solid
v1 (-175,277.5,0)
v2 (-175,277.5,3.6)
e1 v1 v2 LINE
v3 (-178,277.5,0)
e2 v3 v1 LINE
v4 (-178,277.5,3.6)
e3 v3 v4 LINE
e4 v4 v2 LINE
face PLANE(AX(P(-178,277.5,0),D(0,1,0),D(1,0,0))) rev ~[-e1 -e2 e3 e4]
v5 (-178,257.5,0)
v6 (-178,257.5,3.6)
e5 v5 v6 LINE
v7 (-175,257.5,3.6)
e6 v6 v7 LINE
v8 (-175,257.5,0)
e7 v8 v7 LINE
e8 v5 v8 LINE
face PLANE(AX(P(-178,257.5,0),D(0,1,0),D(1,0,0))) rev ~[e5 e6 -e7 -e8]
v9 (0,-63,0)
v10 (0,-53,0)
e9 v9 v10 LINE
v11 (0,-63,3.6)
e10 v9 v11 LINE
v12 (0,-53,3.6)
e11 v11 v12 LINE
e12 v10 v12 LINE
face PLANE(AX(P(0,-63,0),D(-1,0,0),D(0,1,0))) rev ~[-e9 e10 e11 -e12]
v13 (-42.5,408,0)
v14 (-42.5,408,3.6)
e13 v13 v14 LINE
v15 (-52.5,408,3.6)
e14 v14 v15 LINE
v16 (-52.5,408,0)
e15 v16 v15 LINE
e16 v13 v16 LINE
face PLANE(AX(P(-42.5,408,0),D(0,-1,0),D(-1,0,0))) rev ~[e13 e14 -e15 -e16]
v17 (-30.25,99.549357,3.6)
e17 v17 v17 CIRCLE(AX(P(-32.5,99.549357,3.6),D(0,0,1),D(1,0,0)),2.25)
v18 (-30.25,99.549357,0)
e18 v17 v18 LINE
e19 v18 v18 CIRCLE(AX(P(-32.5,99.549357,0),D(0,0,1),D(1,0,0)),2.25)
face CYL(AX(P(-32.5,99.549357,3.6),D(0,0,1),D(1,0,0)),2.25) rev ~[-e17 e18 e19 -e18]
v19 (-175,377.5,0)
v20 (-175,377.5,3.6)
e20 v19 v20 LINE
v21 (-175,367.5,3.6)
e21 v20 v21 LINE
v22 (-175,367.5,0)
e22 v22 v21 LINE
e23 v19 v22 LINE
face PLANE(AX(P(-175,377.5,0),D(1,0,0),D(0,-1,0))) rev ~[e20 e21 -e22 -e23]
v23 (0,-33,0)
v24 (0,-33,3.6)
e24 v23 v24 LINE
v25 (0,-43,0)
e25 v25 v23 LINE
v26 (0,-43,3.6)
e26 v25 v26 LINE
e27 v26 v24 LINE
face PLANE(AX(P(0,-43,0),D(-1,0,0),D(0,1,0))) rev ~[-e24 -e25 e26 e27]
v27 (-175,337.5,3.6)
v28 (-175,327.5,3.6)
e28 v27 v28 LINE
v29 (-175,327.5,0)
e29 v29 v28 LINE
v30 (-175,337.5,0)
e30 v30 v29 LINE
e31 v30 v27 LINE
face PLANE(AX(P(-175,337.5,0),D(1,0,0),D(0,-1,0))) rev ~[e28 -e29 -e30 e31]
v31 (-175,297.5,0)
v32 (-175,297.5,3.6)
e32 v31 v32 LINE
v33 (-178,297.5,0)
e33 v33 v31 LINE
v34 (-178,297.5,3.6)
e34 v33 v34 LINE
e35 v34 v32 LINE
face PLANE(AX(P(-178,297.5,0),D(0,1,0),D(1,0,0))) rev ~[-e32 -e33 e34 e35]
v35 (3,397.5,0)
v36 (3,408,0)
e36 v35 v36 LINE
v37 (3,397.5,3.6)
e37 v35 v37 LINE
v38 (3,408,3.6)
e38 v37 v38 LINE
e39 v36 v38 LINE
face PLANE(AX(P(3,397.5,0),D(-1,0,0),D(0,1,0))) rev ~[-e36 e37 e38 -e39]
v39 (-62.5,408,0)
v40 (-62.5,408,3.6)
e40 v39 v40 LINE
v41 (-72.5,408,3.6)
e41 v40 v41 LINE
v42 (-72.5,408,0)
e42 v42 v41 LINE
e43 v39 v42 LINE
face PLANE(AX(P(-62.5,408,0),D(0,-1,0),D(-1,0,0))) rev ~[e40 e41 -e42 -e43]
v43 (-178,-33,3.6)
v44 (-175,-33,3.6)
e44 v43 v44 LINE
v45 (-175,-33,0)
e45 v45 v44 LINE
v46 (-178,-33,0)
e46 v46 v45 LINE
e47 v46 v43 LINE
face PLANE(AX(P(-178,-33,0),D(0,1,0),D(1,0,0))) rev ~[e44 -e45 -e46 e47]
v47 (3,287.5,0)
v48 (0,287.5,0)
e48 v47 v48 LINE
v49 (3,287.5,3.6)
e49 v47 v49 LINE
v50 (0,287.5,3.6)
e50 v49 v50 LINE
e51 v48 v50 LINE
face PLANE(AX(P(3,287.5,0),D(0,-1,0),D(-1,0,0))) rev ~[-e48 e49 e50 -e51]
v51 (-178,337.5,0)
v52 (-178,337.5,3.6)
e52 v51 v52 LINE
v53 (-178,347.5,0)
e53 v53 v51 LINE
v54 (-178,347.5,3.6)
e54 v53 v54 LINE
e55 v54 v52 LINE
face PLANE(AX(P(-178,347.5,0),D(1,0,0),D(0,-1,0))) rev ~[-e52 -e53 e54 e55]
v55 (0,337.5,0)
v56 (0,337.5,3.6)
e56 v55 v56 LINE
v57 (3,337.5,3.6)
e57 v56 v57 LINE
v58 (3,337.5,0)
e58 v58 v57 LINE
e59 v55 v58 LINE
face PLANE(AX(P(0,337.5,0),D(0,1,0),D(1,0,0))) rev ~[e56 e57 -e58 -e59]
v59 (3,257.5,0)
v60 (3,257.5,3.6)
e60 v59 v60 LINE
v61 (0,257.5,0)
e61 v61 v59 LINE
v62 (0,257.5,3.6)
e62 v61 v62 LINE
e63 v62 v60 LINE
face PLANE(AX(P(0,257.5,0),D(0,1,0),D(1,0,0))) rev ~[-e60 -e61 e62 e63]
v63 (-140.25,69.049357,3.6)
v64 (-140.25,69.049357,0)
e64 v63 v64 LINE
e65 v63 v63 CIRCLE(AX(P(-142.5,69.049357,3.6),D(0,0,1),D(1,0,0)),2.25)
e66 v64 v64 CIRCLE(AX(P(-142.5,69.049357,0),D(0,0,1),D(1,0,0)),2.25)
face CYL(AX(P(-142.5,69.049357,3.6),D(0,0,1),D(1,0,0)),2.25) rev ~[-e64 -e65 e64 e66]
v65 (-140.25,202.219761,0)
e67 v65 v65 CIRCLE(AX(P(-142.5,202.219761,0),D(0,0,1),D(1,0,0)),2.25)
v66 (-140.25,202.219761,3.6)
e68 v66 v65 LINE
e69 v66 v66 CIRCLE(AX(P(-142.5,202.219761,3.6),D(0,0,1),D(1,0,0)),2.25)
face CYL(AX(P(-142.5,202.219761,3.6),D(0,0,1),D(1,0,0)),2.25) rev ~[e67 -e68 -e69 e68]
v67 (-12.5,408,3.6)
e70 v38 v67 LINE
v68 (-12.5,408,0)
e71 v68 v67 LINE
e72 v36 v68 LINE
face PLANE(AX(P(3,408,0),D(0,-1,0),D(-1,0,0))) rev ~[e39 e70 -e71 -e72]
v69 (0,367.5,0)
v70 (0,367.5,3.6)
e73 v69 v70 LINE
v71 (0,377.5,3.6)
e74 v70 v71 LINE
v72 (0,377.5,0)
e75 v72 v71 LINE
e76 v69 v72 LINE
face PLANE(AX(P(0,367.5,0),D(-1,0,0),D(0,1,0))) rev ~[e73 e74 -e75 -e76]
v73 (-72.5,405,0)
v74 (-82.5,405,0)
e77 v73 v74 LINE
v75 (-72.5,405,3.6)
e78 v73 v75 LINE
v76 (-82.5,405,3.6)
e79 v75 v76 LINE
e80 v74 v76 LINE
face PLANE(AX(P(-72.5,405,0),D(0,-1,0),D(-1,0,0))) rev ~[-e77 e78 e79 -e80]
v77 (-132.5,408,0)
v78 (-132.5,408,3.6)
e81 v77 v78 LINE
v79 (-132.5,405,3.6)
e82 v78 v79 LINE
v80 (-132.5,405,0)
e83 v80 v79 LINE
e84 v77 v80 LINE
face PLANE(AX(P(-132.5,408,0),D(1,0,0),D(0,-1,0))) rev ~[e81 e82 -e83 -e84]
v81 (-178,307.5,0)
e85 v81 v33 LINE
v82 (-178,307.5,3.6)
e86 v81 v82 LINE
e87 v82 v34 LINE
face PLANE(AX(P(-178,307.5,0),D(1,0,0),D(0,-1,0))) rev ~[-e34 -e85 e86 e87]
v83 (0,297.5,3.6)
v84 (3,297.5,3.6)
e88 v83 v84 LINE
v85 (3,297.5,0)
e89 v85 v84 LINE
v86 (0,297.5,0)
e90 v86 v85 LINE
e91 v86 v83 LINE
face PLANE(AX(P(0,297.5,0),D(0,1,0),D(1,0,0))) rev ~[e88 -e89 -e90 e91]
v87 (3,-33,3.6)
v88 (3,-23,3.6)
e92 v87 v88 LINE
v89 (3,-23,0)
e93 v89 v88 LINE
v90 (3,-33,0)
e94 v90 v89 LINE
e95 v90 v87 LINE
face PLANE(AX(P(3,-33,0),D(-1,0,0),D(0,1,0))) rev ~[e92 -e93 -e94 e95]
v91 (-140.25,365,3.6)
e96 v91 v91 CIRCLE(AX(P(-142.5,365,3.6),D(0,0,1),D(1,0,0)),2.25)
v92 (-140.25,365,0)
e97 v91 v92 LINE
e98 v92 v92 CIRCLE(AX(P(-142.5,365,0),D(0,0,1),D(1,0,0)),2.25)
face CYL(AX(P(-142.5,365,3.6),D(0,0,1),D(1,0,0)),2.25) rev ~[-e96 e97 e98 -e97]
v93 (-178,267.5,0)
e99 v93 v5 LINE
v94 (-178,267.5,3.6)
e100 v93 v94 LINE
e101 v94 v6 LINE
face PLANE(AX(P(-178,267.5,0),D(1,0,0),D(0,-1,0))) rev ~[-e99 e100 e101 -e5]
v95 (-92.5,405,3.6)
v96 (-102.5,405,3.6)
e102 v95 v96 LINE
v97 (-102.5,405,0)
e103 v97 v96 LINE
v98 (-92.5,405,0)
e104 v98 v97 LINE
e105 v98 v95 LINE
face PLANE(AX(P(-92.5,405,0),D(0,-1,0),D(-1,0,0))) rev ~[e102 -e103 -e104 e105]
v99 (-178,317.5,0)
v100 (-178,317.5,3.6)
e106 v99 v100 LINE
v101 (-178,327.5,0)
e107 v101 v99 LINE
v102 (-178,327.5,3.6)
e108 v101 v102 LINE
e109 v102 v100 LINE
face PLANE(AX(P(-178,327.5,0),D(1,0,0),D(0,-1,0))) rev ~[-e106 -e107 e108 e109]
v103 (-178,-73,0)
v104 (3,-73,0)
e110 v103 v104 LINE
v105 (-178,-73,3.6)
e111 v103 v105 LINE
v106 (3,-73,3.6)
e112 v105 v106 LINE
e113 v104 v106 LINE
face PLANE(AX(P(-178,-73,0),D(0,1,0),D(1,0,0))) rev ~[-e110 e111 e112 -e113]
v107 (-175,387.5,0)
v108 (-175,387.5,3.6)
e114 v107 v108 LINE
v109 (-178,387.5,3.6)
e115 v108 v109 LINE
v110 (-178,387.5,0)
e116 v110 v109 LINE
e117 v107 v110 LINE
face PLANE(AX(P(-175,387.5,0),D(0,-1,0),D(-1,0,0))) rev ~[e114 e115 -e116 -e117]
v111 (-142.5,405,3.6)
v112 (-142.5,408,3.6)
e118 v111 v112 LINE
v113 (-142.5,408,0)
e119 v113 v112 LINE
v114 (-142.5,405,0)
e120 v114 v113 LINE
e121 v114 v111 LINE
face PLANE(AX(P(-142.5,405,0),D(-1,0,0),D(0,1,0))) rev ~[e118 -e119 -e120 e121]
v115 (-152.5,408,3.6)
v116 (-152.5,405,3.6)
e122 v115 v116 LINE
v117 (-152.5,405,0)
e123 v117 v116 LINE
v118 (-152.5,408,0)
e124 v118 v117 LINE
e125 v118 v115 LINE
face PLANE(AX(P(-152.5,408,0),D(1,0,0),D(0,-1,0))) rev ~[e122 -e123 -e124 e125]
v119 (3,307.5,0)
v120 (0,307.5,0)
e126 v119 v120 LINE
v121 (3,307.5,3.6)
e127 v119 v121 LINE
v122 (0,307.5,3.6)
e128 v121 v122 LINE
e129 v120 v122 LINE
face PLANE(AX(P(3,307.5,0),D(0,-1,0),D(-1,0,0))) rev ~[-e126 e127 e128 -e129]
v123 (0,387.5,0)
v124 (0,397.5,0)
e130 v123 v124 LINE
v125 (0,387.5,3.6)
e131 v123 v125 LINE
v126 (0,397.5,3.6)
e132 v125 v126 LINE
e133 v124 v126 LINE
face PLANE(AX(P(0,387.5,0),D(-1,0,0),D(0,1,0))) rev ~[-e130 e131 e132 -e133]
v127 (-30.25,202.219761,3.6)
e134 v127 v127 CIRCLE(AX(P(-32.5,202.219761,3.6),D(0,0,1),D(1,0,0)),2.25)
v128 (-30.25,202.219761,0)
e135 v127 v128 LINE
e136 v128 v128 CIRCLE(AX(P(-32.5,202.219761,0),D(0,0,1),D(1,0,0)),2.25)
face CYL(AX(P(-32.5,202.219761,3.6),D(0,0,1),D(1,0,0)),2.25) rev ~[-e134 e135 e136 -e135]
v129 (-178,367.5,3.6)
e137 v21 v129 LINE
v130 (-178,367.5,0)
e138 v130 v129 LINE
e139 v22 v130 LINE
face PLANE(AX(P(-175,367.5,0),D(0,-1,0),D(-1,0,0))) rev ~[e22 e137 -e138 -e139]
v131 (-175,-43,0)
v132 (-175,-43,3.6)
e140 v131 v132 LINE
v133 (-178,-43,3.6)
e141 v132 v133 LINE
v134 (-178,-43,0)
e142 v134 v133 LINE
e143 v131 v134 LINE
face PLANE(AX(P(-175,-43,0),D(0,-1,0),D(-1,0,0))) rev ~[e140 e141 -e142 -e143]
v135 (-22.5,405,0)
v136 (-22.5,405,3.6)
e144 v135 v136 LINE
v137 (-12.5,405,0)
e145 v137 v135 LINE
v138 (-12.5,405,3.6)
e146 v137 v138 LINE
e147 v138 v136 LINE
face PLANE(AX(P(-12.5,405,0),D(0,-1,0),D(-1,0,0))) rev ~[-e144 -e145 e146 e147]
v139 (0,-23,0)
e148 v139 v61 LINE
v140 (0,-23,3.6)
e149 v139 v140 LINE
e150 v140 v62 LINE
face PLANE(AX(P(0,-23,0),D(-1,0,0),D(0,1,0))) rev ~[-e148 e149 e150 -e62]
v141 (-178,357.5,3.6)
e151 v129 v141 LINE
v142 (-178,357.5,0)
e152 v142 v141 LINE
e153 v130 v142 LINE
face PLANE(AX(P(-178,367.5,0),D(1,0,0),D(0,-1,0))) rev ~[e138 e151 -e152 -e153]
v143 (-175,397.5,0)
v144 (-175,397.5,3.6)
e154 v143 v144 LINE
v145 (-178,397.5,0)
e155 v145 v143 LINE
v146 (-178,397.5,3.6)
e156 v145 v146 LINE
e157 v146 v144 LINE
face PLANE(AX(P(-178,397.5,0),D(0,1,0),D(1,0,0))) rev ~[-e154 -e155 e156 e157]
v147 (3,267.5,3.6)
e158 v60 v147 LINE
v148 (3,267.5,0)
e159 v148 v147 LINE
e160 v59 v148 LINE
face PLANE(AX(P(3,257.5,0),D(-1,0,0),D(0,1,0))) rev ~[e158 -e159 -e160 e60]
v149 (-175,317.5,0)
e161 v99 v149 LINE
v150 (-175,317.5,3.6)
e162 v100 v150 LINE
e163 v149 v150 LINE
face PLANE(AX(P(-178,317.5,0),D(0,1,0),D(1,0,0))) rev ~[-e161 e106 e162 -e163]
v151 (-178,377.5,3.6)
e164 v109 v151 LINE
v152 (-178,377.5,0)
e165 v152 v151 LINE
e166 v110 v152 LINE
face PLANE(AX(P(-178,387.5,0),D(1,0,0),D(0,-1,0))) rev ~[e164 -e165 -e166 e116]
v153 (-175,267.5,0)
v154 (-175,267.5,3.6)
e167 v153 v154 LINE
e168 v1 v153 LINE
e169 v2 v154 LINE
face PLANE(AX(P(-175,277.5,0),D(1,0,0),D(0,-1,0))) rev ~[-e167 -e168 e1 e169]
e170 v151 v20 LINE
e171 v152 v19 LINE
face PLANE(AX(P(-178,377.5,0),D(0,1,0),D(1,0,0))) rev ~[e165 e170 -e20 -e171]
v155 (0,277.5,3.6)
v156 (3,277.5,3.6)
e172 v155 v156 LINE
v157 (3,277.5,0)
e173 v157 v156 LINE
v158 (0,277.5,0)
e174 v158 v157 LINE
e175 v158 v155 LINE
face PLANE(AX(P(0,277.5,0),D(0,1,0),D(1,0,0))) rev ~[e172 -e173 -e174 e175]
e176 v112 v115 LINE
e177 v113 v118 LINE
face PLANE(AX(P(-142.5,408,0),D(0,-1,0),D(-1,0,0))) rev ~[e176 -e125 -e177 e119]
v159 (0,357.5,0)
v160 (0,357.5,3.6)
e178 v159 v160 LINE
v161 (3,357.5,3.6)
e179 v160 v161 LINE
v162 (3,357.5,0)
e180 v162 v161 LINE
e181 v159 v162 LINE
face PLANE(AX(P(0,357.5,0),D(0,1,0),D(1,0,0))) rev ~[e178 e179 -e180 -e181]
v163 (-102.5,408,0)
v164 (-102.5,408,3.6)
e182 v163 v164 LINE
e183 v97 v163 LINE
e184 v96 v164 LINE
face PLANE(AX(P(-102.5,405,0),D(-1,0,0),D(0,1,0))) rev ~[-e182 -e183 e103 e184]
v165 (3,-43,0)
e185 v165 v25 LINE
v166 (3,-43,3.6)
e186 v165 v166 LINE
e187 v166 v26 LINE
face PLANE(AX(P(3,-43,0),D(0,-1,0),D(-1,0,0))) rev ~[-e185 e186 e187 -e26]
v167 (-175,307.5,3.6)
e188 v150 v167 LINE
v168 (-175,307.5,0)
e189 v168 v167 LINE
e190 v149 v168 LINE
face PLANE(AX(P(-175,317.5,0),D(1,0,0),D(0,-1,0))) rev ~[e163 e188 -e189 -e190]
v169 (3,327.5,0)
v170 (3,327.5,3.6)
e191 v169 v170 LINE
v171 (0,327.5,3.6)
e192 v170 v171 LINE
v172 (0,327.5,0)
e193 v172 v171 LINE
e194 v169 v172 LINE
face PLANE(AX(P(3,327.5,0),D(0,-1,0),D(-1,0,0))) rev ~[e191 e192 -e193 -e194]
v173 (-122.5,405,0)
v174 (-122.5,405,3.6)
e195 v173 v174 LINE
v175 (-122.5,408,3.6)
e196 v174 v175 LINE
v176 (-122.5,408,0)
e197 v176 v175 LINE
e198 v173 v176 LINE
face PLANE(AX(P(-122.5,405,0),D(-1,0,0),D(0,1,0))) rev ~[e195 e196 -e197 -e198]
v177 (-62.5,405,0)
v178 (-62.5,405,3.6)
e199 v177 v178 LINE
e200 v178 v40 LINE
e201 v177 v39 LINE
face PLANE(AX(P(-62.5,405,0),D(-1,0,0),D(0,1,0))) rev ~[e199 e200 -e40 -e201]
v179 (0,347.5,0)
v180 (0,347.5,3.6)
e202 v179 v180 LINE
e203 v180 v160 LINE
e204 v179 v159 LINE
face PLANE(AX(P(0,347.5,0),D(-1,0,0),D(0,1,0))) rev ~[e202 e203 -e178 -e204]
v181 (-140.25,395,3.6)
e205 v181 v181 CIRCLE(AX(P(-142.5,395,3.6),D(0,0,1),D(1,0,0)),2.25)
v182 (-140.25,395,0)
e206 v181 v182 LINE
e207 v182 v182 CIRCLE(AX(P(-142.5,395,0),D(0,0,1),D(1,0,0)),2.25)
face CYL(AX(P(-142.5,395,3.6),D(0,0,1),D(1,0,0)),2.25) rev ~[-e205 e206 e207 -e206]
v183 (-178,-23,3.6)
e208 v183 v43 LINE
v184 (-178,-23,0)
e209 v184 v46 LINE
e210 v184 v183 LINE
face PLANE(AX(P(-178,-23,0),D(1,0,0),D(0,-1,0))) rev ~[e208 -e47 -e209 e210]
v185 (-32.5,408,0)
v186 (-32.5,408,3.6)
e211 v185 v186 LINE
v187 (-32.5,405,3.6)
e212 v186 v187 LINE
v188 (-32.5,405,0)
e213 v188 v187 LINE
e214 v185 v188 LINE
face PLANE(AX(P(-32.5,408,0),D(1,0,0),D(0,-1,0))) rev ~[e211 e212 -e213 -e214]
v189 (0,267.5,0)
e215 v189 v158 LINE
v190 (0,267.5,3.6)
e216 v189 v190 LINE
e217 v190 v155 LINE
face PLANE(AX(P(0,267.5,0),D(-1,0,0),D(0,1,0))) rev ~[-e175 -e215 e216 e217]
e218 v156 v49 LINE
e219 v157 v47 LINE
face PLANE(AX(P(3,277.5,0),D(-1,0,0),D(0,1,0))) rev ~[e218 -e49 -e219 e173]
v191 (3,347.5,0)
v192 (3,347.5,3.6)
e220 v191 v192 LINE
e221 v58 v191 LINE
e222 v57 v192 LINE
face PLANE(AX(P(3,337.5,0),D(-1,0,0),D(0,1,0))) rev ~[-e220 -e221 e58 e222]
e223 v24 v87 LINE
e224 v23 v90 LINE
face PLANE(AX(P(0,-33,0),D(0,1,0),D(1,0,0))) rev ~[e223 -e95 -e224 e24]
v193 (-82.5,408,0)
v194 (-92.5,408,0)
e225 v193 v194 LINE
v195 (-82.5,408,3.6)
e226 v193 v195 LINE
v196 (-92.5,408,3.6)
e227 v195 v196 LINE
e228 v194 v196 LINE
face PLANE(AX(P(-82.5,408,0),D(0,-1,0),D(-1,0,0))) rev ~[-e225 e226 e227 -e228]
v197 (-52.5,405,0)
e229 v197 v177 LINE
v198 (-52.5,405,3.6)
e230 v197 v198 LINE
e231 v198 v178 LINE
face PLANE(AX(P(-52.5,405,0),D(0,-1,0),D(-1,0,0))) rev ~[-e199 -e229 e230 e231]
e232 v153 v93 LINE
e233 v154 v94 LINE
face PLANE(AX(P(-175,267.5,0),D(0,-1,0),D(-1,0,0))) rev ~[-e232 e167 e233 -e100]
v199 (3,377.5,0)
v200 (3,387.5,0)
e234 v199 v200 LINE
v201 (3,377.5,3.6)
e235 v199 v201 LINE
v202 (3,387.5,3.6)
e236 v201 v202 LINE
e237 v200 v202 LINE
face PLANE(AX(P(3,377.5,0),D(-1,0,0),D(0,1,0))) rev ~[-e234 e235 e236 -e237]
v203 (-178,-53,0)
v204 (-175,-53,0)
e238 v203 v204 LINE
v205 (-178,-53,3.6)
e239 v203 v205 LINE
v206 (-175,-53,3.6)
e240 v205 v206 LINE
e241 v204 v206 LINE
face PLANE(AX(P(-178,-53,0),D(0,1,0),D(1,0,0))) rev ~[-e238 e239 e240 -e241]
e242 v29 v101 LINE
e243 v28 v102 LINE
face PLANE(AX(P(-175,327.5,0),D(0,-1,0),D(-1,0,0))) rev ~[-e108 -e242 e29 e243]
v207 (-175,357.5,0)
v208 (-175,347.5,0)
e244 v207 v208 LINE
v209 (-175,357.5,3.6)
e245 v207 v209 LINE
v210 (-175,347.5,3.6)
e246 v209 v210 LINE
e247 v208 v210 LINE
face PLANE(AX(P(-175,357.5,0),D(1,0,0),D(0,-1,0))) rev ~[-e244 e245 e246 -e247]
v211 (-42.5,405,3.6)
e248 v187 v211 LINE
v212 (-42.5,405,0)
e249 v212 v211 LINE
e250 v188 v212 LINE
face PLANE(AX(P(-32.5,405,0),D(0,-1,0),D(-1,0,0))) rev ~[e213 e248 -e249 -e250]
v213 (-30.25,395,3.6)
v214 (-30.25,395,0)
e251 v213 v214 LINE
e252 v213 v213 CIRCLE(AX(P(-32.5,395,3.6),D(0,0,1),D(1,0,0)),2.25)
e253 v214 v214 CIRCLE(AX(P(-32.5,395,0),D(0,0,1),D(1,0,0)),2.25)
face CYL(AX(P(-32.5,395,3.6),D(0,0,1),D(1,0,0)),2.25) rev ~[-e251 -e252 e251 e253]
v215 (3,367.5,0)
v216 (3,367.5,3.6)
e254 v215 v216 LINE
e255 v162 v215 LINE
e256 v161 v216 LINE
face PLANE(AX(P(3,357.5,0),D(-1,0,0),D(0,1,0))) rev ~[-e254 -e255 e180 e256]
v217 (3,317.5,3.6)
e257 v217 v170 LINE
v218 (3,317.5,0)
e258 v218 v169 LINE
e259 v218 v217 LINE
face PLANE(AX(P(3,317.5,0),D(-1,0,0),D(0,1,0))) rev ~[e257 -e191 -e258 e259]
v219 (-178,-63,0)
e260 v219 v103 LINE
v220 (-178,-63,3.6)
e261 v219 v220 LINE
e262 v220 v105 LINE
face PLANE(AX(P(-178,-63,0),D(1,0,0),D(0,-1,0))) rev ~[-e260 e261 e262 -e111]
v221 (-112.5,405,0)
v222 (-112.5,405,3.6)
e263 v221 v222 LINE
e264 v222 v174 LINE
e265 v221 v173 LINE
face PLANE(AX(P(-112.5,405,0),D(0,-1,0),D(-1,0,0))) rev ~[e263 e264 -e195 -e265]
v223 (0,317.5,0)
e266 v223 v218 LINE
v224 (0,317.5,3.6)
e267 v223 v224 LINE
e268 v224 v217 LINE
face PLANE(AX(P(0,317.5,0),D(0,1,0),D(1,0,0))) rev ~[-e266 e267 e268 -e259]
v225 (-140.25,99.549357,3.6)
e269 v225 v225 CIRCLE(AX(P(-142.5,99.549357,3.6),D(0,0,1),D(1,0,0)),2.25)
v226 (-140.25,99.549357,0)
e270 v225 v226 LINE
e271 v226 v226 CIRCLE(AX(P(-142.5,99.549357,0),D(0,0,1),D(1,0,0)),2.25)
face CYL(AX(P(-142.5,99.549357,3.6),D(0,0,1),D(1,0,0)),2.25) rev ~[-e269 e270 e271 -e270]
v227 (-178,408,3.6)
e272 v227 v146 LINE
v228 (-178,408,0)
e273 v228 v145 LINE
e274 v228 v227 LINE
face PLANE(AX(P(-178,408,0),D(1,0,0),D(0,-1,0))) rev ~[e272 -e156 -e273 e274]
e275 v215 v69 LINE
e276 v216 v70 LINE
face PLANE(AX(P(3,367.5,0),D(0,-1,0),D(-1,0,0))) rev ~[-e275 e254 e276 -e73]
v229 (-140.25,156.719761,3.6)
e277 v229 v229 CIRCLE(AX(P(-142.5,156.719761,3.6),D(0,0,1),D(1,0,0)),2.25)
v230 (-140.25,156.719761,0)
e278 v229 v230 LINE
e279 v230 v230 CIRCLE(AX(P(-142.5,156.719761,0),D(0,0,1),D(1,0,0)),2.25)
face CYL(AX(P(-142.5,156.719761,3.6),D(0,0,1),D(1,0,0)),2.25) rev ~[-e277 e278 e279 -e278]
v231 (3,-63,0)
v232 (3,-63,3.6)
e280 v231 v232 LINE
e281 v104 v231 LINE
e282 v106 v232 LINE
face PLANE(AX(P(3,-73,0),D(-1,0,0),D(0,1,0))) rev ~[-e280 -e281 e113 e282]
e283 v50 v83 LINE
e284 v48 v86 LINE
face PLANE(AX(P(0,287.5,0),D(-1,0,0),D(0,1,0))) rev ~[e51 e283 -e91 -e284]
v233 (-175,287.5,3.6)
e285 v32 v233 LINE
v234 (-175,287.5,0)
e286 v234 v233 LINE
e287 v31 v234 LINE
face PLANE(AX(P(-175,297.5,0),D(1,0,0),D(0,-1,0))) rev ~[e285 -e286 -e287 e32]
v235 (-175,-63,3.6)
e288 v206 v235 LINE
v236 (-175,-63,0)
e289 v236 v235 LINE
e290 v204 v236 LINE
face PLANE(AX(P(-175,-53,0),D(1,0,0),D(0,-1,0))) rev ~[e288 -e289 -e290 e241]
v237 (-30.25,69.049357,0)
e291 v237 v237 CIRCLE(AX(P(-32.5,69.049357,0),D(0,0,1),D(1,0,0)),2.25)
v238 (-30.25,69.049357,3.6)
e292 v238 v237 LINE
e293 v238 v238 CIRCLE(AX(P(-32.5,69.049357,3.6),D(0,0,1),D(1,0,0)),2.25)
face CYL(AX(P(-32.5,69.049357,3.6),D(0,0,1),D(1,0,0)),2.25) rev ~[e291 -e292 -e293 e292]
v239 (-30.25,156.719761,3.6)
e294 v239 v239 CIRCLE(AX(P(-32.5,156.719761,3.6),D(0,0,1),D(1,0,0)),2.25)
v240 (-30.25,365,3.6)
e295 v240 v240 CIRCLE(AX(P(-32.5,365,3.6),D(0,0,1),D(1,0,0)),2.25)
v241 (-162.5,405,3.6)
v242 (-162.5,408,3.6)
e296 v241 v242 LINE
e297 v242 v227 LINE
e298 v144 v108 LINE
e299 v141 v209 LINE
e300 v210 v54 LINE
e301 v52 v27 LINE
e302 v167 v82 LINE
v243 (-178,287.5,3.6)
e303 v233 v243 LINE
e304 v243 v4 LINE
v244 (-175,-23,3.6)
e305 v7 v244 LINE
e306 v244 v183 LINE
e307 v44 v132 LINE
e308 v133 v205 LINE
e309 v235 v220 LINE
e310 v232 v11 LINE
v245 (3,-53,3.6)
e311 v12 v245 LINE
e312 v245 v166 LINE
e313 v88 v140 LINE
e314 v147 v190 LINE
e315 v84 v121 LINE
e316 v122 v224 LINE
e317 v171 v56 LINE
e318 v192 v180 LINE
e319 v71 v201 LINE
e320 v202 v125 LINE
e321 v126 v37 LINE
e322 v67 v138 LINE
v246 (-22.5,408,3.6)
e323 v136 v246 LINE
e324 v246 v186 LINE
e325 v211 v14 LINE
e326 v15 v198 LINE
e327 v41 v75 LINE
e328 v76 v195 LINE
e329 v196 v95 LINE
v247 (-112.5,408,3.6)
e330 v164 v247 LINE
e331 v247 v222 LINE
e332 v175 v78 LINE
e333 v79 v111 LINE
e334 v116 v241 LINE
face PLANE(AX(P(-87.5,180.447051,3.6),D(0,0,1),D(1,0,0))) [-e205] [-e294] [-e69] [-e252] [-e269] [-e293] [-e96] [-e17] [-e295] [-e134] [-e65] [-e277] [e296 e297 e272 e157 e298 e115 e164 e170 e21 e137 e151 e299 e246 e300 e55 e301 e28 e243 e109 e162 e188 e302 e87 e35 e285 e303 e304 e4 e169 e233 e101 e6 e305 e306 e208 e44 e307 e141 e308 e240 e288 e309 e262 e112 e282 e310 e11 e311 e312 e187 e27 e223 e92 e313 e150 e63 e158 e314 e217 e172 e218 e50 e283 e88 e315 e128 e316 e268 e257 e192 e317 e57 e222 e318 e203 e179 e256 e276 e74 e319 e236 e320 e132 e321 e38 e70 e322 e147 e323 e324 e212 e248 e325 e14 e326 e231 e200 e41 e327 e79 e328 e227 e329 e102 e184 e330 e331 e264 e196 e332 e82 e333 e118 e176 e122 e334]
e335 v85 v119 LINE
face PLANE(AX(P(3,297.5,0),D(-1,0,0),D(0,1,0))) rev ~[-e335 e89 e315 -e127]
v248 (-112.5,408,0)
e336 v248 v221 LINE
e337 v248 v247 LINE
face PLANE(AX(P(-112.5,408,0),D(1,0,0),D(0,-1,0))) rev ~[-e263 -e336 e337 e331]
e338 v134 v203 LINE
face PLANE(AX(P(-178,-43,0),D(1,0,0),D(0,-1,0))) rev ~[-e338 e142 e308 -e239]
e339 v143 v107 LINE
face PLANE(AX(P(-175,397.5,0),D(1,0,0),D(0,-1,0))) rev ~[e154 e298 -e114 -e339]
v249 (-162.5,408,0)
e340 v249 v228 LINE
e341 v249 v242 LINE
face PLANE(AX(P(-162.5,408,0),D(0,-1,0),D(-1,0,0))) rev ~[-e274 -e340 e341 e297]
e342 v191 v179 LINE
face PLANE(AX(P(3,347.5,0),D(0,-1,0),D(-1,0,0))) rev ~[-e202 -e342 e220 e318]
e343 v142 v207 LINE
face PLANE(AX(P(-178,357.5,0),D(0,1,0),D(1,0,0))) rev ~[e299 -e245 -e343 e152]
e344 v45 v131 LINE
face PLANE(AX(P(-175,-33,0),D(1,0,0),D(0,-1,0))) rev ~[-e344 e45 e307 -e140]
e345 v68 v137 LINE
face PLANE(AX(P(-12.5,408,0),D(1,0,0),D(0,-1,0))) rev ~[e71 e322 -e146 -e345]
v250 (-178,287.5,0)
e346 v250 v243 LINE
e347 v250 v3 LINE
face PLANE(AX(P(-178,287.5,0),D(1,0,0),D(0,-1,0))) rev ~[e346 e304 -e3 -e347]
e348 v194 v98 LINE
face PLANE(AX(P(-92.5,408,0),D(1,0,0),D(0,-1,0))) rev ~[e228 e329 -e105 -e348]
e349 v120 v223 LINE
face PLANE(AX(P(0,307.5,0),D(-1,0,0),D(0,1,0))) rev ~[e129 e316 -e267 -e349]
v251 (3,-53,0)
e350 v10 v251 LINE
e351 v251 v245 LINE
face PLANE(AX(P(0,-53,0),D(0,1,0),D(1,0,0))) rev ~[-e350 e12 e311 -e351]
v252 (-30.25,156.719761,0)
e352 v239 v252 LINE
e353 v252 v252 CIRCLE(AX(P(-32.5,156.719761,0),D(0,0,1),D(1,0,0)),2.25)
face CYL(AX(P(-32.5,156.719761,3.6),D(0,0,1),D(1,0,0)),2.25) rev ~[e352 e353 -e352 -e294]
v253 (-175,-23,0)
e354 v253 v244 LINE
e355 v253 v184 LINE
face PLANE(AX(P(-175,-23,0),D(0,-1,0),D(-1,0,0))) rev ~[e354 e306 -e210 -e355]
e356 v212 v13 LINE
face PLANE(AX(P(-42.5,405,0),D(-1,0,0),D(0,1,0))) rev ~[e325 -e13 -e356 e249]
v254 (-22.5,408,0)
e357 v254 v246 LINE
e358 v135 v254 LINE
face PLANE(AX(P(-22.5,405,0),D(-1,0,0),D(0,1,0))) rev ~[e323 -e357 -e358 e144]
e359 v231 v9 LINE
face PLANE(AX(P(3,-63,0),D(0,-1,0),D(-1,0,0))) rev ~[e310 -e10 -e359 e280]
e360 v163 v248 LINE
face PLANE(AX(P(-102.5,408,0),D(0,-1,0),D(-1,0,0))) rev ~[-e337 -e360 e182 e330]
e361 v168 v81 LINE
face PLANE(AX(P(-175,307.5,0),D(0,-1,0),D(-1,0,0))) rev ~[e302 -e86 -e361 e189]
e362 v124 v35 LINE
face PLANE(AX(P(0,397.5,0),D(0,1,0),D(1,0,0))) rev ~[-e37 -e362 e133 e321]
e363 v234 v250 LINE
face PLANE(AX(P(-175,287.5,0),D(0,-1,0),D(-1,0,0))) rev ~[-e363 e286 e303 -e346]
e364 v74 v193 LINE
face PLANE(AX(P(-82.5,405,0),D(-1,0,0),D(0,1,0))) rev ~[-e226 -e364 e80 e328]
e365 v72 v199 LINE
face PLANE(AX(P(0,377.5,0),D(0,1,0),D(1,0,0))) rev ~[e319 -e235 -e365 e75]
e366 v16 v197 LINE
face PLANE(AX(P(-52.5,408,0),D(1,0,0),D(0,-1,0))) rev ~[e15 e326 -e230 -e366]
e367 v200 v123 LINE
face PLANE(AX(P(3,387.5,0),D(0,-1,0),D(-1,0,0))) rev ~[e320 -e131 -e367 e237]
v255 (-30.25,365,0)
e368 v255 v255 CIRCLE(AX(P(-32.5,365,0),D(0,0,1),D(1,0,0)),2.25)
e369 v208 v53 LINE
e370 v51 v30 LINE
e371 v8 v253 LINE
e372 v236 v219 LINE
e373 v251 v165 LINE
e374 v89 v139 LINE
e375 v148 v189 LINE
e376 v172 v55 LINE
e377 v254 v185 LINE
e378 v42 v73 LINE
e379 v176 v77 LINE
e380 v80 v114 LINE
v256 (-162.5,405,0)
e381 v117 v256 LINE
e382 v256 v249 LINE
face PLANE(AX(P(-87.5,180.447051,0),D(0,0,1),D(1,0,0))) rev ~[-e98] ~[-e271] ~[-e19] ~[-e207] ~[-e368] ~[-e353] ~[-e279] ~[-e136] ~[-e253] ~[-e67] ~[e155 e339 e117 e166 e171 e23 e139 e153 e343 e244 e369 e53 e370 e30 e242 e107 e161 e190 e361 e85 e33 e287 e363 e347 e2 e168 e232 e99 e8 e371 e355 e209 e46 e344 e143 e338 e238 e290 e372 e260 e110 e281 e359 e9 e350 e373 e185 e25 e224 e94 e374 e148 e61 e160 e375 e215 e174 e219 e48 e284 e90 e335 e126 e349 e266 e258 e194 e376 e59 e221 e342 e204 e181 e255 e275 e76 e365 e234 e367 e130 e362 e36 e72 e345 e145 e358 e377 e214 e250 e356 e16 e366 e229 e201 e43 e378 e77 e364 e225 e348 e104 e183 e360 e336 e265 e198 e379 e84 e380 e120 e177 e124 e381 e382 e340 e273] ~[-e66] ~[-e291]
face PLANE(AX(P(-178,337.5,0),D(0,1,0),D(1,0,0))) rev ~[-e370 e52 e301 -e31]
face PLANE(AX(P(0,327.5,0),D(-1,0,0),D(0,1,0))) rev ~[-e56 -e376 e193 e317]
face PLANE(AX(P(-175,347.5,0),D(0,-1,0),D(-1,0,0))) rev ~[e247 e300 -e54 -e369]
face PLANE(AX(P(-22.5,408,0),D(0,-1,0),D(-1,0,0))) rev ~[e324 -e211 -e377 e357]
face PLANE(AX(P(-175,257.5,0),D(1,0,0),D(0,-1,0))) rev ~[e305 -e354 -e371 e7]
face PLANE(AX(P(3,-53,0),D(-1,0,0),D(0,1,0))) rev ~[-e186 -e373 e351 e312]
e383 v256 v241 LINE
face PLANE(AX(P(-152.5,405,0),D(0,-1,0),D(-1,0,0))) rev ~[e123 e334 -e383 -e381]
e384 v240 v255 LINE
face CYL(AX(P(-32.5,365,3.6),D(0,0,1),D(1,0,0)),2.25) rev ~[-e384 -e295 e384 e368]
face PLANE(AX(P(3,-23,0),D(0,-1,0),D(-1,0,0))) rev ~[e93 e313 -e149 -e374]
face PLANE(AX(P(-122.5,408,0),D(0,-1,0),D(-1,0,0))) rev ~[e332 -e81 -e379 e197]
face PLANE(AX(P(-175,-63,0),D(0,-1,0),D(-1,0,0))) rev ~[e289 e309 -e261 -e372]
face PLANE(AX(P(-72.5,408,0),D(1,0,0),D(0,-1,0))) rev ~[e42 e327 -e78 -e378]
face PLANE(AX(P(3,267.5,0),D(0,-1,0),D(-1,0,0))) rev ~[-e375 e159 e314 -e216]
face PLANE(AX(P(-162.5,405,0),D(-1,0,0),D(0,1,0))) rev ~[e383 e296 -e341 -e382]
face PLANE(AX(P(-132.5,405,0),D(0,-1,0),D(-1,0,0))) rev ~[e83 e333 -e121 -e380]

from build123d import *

# Parameters (mm, degrees)
BOSS_EXTRUDE1_DEPTH = 3.6
SKETCH3_R           = 2.25
CUT_EXTRUDE1_DEPTH  = 10


with BuildPart() as part:
    # Sketch1 → Boss-Extrude1 (new body)
    with BuildSketch(Plane.XY):
        Polygon((3, 408), (-12.5, 408), (-12.5, 405), (-22.5, 405), (-22.5, 408), (-32.5, 408), (-32.5, 405), (-42.5, 405), (-42.5, 408), (-52.5, 408), (-52.5, 405), (-62.5, 405), (-62.5, 408), (-72.5, 408), (-72.5, 405), (-82.5, 405), (-82.5, 408), (-92.5, 408), (-92.5, 405), (-102.5, 405), (-102.5, 408), (-112.5, 408), (-112.5, 405), (-122.5, 405), (-122.5, 408), (-132.5, 408), (-132.5, 405), (-142.5, 405), (-142.5, 408), (-152.5, 408), (-152.5, 405), (-162.5, 405), (-162.5, 408), (-178, 408), (-178, 397.5), (-175, 397.5), (-175, 387.5), (-178, 387.5), (-178, 377.5), (-175, 377.5), (-175, 367.5), (-178, 367.5), (-178, 357.5), (-175, 357.5), (-175, 347.5), (-178, 347.5), (-178, 337.5), (-175, 337.5), (-175, 327.5), (-178, 327.5), (-178, 317.5), (-175, 317.5), (-175, 307.5), (-178, 307.5), (-178, 297.5), (-175, 297.5), (-175, 287.5), (-178, 287.5), (-178, 277.5), (-175, 277.5), (-175, 267.5), (-178, 267.5), (-178, 257.5), (-175, 257.5), (-175, 0), (-175, -23), (-178, -23), (-178, -33), (-175, -33), (-175, -43), (-178, -43), (-178, -53), (-175, -53), (-175, -63), (-178, -63), (-178, -73), (3, -73), (3, -63), (0, -63), (0, -53), (3, -53), (3, -43), (0, -43), (0, -33), (3, -33), (3, -23), (0, -23), (0, 0), (0, 257.5), (3, 257.5), (3, 267.5), (0, 267.5), (0, 277.5), (3, 277.5), (3, 287.5), (0, 287.5), (0, 297.5), (3, 297.5), (3, 307.5), (0, 307.5), (0, 317.5), (3, 317.5), (3, 327.5), (0, 327.5), (0, 337.5), (3, 337.5), (3, 347.5), (0, 347.5), (0, 357.5), (3, 357.5), (3, 367.5), (0, 367.5), (0, 377.5), (3, 377.5), (3, 387.5), (0, 387.5), (0, 397.5), (3, 397.5), align=None)
    extrude(amount=BOSS_EXTRUDE1_DEPTH)

    # Sketch3 → Cut-Extrude1 (cut)
    with BuildSketch(Plane.XY.offset(3.6)):
        with Locations((-142.5, 365)):
            Circle(SKETCH3_R)
        with Locations((-32.5, 69.049357195)):
            Circle(SKETCH3_R)
        with Locations((-32.5, 99.549357195)):
            Circle(SKETCH3_R)
        with Locations((-142.5, 69.049357195)):
            Circle(SKETCH3_R)
        with Locations((-142.5, 99.549357195)):
            Circle(SKETCH3_R)
        with Locations((-142.5, 156.719761425)):
            Circle(SKETCH3_R)
        with Locations((-32.5, 156.719761425)):
            Circle(SKETCH3_R)
        with Locations((-32.5, 202.219761425)):
            Circle(SKETCH3_R)
        with Locations((-142.5, 202.219761425)):
            Circle(SKETCH3_R)
        with Locations((-32.5, 365)):
            Circle(SKETCH3_R)
        with Locations((-32.5, 395)):
            Circle(SKETCH3_R)
        with Locations((-142.5, 395)):
            Circle(SKETCH3_R)
    extrude(amount=-CUT_EXTRUDE1_DEPTH, mode=Mode.SUBTRACT)


solid = part.part
